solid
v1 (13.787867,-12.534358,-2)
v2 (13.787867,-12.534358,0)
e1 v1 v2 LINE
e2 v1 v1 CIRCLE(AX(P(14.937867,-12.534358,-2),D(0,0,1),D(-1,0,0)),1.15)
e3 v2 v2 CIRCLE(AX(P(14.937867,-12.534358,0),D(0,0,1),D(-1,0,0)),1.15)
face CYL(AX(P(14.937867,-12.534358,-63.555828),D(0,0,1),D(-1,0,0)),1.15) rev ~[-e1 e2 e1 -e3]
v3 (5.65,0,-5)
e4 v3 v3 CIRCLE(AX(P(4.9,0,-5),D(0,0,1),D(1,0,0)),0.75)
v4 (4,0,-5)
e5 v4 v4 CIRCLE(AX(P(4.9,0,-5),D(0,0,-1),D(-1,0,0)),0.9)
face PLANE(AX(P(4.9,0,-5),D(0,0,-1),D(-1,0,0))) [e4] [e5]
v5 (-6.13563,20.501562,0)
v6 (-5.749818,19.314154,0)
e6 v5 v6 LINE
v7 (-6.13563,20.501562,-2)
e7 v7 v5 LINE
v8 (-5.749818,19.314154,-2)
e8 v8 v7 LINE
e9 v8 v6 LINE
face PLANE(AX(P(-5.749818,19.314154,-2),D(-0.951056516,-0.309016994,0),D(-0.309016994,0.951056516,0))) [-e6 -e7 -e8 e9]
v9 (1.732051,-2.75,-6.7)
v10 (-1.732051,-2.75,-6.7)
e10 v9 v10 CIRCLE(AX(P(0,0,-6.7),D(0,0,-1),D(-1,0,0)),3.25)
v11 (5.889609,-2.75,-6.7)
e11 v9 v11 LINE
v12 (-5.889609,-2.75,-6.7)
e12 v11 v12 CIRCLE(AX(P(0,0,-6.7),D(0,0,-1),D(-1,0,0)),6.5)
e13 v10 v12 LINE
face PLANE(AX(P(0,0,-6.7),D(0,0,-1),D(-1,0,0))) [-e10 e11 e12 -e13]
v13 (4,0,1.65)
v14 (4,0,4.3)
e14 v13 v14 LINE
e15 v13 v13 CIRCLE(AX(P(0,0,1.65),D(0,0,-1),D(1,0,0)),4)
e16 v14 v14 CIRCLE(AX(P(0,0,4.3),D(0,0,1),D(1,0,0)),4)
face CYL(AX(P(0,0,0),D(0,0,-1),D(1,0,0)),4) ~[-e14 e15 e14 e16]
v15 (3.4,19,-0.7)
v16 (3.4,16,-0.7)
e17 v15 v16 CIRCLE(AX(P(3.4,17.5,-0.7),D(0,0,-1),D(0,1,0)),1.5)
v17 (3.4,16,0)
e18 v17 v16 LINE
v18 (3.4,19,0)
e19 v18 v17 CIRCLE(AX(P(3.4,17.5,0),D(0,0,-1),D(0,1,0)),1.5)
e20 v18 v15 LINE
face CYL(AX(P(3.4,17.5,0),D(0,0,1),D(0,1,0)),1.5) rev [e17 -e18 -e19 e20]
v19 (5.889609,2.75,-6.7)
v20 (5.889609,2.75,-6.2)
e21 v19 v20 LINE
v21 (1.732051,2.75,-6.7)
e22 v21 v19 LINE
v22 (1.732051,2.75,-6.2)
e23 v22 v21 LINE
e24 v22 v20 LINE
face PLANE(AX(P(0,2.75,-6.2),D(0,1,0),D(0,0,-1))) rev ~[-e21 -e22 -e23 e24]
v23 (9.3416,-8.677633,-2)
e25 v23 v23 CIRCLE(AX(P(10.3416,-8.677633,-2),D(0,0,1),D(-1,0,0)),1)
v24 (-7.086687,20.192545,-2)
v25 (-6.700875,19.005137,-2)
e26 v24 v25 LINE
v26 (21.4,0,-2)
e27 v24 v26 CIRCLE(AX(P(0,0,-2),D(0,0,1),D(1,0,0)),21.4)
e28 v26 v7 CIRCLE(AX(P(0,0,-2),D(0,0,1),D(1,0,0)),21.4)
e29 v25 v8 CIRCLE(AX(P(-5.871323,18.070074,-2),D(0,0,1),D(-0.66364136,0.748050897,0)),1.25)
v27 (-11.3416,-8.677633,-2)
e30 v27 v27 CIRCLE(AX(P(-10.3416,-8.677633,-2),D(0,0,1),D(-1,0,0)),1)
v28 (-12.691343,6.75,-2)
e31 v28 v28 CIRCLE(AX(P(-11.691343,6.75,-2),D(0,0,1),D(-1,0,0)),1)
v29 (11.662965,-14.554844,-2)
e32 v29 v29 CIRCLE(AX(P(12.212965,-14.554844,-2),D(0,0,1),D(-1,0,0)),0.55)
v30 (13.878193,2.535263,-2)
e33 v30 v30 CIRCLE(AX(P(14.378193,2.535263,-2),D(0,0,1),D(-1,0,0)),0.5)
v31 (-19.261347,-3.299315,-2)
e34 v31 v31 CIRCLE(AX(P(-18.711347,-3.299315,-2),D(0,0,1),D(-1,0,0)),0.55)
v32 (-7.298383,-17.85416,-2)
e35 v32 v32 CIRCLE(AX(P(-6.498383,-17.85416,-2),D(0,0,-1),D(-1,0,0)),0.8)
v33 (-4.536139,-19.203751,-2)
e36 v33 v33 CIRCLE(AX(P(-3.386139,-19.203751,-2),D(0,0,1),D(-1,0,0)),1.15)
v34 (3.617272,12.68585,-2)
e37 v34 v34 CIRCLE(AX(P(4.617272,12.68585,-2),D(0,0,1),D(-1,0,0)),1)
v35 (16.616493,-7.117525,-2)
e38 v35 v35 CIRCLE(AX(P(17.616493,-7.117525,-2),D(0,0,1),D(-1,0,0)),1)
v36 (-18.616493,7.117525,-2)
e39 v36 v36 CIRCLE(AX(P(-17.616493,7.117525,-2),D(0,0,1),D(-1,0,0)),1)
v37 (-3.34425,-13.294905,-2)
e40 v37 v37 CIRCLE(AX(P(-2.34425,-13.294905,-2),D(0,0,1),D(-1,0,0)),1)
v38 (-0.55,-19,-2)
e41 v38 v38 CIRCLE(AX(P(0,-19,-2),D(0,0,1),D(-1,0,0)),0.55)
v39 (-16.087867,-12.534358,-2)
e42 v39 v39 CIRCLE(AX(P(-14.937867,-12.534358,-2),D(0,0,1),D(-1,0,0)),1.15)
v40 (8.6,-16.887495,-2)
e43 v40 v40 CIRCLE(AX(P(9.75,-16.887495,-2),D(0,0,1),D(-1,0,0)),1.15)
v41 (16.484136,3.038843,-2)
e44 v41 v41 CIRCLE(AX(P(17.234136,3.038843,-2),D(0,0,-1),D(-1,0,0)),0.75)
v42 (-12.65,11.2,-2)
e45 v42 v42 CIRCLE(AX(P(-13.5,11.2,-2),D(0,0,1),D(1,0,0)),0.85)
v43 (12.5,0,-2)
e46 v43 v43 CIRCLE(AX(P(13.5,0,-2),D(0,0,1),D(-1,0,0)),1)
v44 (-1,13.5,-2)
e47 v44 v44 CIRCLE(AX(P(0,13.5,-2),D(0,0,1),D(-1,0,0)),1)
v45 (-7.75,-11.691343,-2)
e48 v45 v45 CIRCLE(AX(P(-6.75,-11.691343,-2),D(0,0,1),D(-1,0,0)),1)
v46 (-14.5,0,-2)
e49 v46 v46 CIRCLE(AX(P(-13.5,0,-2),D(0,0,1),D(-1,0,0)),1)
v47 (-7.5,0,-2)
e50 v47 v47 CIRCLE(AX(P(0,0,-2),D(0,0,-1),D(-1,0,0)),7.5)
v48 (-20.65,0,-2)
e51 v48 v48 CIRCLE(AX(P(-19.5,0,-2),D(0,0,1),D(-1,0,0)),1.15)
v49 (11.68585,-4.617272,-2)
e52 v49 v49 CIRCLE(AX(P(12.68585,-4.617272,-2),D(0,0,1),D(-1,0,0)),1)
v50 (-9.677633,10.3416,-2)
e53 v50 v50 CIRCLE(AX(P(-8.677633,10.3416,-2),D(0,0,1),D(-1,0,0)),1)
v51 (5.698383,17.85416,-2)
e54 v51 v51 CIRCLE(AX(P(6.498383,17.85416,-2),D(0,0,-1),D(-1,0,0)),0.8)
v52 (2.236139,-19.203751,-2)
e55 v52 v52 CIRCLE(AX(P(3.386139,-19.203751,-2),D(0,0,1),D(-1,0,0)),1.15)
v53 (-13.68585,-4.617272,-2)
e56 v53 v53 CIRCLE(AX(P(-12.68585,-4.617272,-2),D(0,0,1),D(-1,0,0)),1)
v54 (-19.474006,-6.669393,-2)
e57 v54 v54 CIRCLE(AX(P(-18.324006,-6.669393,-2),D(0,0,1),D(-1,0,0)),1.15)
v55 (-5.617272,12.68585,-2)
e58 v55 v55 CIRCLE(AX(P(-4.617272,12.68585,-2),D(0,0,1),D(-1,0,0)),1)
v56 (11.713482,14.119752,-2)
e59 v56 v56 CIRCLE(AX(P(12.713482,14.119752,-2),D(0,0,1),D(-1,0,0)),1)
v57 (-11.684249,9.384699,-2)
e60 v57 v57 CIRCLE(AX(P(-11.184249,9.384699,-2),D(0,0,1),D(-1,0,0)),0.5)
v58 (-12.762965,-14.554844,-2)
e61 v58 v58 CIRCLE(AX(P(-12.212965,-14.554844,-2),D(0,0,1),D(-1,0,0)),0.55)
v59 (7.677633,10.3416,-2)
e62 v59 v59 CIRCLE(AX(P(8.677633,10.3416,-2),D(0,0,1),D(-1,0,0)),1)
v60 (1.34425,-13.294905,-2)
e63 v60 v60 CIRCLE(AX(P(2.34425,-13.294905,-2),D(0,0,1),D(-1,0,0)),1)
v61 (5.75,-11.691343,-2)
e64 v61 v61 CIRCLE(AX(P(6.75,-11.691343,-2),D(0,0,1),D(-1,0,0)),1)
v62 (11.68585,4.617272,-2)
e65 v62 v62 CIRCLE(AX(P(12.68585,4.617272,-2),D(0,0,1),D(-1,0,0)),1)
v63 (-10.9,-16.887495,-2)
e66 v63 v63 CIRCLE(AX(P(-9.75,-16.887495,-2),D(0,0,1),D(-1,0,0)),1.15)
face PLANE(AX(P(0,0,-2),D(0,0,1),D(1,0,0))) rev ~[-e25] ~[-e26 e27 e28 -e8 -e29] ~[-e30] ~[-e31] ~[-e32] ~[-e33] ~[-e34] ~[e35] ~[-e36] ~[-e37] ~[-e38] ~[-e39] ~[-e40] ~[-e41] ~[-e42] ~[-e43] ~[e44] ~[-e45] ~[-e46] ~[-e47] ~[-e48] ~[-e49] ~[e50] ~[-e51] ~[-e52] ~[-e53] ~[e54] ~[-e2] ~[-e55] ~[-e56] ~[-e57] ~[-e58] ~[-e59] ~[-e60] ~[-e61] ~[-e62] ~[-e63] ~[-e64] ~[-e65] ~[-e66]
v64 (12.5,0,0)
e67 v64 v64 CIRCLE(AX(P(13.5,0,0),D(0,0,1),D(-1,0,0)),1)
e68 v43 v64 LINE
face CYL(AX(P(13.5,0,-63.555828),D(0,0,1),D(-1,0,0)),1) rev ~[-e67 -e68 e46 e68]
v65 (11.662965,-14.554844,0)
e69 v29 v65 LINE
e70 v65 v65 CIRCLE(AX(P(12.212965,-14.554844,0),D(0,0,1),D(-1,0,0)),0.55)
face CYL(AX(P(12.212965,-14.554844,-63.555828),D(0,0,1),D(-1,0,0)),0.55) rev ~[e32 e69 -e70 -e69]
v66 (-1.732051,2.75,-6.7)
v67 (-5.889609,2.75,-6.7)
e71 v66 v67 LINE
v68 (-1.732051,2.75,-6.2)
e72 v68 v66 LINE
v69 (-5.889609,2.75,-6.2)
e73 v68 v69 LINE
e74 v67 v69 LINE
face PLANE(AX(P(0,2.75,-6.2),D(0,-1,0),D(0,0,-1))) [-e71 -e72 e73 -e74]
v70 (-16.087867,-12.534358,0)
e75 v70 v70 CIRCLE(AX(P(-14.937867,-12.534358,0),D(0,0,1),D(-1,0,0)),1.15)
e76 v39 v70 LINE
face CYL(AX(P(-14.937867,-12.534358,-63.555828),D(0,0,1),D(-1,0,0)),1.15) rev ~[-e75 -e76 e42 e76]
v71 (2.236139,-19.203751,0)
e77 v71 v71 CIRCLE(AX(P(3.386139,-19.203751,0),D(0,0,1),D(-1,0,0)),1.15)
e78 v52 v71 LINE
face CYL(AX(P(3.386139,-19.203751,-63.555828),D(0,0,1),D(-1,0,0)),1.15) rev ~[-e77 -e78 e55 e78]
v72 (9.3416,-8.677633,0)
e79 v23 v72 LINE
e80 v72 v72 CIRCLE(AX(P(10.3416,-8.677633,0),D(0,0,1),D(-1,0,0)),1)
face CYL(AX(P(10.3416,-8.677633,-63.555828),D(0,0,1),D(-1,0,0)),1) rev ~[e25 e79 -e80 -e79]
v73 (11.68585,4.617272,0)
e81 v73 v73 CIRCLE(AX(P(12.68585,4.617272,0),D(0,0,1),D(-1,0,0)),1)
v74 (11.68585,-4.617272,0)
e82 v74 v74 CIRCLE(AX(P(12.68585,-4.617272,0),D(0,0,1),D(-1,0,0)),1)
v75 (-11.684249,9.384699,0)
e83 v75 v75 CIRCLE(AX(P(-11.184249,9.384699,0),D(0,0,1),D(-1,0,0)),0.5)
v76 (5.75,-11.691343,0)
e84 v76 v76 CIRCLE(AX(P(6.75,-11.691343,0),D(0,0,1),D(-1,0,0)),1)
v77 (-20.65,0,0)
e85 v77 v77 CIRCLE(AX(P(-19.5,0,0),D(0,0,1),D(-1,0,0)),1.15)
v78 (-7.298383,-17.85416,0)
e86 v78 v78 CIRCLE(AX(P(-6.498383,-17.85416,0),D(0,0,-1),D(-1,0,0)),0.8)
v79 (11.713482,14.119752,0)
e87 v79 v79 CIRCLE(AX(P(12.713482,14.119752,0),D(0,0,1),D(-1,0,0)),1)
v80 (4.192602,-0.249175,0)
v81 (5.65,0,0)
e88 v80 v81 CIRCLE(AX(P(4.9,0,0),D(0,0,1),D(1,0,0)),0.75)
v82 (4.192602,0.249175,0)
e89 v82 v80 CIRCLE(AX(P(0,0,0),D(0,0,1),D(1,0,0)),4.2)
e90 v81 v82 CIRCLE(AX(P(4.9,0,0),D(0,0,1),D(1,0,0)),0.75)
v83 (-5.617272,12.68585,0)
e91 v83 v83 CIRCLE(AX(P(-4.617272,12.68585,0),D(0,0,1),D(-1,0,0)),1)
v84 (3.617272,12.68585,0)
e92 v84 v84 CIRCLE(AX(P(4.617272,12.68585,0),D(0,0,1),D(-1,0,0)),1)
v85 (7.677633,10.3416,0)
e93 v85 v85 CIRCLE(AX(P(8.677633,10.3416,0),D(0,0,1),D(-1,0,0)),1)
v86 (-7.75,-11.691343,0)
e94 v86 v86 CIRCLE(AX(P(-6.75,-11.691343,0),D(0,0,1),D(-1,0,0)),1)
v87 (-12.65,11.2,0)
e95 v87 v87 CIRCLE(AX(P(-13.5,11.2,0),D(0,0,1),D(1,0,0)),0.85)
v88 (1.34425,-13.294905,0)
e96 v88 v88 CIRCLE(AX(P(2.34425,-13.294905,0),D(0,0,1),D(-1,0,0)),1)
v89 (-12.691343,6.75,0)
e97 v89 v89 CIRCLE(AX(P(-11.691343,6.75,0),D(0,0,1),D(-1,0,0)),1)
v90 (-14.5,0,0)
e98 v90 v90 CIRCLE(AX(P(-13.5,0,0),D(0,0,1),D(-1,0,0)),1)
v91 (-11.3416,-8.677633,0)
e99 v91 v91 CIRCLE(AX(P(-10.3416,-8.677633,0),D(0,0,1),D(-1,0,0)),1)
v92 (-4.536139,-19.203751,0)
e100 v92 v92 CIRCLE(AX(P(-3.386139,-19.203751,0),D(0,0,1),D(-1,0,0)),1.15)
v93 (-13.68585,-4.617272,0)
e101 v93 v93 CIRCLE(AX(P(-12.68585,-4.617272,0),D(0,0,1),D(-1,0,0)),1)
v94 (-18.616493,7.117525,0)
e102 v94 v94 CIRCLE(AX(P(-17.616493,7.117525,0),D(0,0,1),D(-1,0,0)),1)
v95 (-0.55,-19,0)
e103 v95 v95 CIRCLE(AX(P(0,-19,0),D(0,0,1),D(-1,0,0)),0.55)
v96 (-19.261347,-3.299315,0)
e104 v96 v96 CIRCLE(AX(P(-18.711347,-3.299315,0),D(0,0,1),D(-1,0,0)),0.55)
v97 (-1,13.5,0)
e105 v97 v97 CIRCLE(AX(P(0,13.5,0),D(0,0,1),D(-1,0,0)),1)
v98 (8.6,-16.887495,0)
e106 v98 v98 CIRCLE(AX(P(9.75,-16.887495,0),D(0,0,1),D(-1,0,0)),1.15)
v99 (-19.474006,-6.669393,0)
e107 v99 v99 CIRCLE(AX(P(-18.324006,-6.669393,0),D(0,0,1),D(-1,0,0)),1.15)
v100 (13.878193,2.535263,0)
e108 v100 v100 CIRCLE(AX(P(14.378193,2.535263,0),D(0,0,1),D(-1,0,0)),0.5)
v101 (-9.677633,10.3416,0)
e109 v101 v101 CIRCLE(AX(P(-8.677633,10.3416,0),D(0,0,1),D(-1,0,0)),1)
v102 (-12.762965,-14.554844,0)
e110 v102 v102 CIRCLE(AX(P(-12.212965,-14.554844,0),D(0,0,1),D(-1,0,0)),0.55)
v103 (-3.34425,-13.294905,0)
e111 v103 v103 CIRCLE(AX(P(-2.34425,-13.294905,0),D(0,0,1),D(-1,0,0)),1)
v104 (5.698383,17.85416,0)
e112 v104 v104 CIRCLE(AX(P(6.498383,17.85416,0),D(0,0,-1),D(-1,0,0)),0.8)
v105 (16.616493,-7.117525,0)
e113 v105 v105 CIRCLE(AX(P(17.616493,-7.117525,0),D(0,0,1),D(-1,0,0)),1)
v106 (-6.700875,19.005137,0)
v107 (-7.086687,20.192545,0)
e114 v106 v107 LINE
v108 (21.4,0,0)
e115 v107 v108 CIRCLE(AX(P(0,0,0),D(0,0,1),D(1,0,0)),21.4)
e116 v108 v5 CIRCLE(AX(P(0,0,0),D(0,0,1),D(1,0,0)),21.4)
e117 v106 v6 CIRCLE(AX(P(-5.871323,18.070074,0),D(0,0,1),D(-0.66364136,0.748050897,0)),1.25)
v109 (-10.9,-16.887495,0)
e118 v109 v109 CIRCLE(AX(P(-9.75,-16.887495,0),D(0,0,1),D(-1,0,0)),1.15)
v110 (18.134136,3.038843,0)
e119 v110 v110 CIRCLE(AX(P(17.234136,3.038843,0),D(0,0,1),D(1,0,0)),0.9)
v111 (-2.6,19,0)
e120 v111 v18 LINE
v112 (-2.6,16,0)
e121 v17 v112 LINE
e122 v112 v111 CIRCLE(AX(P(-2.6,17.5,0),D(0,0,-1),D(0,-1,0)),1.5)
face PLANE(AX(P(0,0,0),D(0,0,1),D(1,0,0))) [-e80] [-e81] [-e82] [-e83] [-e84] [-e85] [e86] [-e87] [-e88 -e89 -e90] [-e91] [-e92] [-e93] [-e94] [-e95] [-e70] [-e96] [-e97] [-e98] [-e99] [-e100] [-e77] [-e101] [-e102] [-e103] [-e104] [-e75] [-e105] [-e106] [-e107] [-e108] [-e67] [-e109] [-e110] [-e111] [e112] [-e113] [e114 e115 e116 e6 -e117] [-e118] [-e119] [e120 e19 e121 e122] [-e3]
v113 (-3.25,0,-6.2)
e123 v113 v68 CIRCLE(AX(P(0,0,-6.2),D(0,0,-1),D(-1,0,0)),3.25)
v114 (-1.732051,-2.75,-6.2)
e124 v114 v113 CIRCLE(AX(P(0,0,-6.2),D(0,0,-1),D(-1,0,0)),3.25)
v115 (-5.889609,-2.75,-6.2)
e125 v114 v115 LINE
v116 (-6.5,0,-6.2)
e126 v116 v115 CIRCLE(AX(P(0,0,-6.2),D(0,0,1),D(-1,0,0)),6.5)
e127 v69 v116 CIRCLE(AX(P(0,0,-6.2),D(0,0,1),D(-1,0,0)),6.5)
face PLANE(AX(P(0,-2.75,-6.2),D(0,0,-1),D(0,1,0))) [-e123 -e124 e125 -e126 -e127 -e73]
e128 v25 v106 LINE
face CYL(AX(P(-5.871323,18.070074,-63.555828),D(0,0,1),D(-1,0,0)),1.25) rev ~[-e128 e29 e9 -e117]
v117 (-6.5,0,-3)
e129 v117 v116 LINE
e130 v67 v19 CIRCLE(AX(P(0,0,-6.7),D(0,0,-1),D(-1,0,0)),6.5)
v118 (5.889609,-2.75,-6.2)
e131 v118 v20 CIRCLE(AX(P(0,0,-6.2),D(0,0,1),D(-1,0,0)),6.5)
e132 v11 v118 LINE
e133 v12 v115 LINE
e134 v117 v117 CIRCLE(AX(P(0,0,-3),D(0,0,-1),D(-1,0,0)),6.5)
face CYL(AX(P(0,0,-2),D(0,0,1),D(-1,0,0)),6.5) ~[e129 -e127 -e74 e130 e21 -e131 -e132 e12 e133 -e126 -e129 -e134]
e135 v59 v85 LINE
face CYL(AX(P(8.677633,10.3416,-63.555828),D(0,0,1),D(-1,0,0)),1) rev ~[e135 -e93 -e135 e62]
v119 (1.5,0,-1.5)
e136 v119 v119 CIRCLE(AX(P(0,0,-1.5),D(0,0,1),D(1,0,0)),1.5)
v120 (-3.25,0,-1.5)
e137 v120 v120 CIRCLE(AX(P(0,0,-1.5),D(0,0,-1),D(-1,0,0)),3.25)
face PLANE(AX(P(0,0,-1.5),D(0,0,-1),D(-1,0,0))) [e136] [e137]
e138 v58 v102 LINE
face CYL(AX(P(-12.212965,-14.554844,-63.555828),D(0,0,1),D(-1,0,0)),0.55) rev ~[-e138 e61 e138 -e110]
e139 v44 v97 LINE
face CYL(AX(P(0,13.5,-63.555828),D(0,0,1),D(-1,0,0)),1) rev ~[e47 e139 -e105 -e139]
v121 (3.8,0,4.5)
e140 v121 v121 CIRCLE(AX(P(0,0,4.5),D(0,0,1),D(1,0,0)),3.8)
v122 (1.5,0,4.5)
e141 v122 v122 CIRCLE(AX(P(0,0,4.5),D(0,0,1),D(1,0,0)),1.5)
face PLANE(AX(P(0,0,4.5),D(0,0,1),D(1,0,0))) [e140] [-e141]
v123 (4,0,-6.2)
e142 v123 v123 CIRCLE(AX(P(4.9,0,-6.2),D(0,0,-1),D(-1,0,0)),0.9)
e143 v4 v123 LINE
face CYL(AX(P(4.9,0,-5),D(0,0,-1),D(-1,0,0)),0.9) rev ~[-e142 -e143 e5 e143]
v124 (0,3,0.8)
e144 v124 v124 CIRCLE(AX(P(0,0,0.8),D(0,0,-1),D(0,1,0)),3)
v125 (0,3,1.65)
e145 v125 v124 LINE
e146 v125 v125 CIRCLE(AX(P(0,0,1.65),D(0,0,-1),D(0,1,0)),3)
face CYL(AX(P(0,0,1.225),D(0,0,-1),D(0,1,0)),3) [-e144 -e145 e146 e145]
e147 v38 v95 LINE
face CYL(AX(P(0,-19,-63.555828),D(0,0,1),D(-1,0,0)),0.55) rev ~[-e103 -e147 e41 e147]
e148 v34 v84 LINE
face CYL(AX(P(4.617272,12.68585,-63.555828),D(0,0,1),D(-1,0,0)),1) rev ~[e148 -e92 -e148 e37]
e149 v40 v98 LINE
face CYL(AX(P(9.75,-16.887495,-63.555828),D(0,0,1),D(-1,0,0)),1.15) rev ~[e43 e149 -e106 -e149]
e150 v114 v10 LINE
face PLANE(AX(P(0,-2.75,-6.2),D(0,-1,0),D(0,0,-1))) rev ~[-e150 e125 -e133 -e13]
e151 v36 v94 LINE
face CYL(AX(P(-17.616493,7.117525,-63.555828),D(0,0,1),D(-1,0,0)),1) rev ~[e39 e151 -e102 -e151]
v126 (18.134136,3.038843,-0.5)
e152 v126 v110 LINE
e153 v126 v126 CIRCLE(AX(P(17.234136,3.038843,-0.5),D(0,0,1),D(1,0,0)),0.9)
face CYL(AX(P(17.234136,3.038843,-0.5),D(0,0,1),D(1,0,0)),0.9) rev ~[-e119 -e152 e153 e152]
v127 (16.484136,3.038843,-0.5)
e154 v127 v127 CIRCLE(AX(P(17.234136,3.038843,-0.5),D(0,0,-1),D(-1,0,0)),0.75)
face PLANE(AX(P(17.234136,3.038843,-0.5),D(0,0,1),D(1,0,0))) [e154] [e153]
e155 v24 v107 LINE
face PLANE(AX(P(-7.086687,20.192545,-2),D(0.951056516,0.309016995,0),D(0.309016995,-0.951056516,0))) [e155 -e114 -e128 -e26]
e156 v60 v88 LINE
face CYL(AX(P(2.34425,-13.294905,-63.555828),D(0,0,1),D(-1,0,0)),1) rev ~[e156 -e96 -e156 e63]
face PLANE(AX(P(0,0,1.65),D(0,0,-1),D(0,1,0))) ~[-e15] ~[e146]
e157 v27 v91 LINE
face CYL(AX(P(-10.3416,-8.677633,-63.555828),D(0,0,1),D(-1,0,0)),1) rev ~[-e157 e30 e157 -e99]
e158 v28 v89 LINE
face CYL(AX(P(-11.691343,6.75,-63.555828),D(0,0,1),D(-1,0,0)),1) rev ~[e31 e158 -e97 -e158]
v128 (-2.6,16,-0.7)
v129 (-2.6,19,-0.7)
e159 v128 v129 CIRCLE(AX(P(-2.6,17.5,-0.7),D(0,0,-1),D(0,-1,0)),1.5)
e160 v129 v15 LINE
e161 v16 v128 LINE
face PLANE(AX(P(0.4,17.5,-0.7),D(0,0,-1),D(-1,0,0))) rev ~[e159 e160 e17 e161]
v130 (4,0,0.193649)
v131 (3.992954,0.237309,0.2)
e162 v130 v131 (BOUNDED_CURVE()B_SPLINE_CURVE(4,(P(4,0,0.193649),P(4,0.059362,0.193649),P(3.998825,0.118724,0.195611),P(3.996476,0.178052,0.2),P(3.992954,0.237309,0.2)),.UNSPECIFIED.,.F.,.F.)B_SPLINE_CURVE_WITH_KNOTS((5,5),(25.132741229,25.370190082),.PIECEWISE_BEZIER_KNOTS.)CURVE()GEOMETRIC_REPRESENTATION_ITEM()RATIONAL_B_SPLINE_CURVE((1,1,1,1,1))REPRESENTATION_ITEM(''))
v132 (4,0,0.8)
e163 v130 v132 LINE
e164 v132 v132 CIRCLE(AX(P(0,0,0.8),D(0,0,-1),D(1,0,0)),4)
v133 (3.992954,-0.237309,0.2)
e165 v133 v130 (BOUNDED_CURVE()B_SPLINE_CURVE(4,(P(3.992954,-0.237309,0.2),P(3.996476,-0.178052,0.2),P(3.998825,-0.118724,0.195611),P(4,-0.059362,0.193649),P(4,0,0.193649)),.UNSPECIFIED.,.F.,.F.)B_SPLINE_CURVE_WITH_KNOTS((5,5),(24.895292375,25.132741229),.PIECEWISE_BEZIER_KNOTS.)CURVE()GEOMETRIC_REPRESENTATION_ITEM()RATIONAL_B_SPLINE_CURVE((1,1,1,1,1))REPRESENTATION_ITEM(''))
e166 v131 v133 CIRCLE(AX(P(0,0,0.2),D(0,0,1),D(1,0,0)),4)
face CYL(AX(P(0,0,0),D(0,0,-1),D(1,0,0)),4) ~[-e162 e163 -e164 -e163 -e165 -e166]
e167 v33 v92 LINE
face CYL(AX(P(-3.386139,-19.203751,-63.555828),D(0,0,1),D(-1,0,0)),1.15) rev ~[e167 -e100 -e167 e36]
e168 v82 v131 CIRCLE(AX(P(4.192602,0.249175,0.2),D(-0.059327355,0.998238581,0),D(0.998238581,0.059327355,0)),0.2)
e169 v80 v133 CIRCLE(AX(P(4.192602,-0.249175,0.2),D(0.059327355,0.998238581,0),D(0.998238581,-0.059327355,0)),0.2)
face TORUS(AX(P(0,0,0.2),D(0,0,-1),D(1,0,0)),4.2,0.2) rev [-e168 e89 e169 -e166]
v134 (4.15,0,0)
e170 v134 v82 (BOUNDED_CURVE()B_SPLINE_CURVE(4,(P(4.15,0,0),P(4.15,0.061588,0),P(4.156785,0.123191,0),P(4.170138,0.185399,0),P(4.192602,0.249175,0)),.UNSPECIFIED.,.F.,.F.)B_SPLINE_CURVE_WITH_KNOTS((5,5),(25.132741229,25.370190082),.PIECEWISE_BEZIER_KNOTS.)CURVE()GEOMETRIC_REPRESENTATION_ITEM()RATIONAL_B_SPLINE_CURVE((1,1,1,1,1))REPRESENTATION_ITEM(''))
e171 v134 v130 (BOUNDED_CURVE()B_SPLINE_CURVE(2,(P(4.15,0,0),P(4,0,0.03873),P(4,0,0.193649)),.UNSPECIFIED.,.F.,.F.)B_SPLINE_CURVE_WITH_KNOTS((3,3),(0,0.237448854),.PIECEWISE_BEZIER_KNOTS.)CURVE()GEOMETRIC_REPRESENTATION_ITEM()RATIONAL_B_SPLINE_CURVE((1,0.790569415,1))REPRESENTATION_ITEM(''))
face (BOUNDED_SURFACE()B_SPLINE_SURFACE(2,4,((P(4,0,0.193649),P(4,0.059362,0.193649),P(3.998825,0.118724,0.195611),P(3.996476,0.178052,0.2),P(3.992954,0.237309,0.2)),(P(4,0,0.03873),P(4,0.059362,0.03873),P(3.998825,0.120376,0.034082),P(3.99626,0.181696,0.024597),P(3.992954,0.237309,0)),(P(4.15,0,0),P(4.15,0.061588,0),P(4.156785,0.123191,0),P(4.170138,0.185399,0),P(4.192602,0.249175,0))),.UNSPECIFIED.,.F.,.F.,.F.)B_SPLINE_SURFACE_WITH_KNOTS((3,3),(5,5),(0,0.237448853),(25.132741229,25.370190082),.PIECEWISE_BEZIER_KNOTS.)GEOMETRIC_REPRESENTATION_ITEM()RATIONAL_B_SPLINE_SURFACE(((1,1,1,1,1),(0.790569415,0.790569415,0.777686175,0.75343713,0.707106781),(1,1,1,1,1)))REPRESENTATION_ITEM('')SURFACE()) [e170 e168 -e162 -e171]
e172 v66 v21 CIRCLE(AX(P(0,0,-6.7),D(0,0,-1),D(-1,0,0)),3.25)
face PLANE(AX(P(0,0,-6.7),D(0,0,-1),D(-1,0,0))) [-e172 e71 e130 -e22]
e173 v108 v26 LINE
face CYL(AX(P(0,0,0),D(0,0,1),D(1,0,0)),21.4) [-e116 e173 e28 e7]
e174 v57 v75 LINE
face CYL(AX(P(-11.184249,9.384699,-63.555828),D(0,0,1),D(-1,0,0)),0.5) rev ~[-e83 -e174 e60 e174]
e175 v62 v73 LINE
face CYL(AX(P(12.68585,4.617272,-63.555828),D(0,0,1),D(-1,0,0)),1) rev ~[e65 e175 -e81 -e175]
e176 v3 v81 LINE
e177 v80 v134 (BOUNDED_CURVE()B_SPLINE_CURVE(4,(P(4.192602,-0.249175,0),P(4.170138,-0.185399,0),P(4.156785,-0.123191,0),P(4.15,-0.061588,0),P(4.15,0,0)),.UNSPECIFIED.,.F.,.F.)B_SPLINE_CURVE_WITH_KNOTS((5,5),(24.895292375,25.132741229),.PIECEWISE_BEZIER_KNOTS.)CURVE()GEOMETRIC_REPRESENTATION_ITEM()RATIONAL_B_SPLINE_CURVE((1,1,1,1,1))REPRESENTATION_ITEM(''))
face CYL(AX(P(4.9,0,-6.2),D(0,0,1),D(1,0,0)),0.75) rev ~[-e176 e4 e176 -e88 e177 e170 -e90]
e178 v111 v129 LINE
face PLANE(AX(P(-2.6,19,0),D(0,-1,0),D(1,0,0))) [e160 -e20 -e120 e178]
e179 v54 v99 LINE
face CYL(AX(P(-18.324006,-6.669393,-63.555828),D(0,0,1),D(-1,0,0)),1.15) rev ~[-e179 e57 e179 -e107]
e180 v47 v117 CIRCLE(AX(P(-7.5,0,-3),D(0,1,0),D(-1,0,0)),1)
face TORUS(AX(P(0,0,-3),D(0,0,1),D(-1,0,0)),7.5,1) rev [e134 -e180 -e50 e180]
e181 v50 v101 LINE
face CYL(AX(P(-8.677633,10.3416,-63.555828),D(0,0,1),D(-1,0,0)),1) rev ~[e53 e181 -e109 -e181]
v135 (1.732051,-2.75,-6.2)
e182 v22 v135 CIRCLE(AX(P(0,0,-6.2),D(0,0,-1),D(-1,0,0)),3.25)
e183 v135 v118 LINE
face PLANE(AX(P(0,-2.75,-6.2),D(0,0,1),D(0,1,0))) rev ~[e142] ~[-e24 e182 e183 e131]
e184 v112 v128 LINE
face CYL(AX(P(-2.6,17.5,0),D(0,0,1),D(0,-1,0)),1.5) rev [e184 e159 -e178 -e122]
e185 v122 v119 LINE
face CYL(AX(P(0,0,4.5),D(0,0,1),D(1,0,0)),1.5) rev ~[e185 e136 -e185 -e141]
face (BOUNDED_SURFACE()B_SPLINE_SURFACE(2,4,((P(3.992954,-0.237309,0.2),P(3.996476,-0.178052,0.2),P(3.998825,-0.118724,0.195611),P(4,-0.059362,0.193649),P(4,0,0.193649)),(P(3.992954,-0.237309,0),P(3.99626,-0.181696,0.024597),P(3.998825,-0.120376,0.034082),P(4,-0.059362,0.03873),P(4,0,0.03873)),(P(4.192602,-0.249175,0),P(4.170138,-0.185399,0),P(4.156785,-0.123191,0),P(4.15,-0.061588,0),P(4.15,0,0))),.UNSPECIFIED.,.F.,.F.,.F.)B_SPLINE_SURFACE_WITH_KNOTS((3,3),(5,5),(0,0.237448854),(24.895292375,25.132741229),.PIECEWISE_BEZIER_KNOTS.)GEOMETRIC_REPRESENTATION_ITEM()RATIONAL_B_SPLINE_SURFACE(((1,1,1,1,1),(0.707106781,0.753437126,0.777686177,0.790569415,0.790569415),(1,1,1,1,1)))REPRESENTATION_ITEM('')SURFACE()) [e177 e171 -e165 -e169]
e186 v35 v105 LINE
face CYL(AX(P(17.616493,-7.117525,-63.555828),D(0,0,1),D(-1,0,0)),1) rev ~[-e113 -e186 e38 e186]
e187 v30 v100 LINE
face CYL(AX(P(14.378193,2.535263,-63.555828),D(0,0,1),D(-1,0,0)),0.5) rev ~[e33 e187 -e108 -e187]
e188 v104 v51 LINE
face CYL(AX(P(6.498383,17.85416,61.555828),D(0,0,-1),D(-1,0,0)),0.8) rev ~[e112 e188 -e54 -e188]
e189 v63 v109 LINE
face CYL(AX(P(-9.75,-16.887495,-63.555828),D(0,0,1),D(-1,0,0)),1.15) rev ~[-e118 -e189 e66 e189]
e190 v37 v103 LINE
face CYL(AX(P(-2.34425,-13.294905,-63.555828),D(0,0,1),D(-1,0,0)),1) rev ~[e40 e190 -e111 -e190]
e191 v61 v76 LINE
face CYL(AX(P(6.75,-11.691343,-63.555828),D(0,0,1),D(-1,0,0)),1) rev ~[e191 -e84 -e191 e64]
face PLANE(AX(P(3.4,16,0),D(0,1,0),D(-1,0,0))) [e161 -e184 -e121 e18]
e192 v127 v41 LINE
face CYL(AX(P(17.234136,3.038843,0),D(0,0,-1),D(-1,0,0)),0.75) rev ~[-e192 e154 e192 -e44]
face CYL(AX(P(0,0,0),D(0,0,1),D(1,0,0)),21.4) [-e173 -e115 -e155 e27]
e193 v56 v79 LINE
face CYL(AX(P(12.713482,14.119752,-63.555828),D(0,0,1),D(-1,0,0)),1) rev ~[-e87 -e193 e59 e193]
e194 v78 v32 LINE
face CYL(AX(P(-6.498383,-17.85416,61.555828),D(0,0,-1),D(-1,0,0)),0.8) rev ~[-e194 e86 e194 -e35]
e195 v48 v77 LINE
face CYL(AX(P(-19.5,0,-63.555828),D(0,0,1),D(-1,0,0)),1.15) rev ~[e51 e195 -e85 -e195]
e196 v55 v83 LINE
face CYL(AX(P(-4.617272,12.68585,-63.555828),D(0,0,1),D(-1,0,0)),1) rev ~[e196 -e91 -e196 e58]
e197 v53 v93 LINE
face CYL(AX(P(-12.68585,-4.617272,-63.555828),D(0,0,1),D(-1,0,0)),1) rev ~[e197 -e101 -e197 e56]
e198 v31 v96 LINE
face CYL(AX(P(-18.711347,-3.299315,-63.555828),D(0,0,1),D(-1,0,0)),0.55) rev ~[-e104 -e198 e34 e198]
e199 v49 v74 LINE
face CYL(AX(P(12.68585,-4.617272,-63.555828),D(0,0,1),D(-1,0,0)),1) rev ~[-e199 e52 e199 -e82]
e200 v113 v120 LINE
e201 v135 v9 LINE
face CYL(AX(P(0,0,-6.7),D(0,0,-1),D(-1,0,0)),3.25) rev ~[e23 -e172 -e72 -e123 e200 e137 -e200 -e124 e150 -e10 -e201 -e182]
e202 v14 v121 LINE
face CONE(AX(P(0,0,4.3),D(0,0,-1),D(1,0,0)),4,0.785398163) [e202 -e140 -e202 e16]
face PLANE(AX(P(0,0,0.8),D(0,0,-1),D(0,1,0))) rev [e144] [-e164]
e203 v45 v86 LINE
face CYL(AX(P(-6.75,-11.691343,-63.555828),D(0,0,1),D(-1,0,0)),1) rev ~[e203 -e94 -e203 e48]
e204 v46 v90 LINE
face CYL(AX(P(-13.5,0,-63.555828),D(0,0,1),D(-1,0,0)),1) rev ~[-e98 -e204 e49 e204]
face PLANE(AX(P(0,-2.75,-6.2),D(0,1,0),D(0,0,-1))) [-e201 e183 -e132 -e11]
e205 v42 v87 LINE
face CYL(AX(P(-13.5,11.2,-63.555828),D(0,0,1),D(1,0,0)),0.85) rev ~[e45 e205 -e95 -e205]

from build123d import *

# Parameters (mm, degrees)
SKETCH1_R                                            = 21.4
BOSS_EXTRUDE1_DEPTH                                  = 2
SKETCH2_R                                            = 6.5
BOSS_EXTRUDE2_DEPTH                                  = 4.7
SKETCH3_R                                            = 4
BOSS_EXTRUDE3_DEPTH                                  = 4.5
SKETCH5_R                                            = 3.25
CUT_EXTRUDE2_DEPTH                                   = 5.2
CUT_EXTRUDE1_REACH                                   = 13.2
SKETCH4_R                                            = 1.5
SKETCH6_W                                            = 0.85
SKETCH6_H                                            = 1
SKETCH7_W                                            = 0.5
SKETCH7_H                                            = 5.5
CUT_EXTRUDE3_DEPTH                                   = 22.4
CUT_EXTRUDE3_DEPTH_BACK                              = 22.4
CUT_EXTRUDE4_DEPTH                                   = 0.7
F_2_0_2_DIAMETER_HOLE6_D                             = 2
FILLET2_R                                            = 1
F_2_3_2_3_DIAMETER_HOLE1_D                           = 2.3
F_2_0_2_DIAMETER_HOLE8_D                             = 2
F_2_5_2_5_DIAMETER_HOLE1_D                           = 2.5
F_1_0_1_DIAMETER_HOLE1_D                             = 1
F_1_7_1_7_DIAMETER_HOLE2_D                           = 1.7
M1_4X0_3_TAPPED_HOLE1_D                              = 1.1
M2_TAPPED_HOLE1_D                                    = 1.6
CBORE_FOR_M1_7_HEX_SOCKET_HEAD_CAP_SCREW_D           = 1.5
CBORE_FOR_M1_7_HEX_SOCKET_HEAD_CAP_SCREW_CBORE_D     = 1.8
CBORE_FOR_M1_7_HEX_SOCKET_HEAD_CAP_SCREW_CBORE_DEPTH = 0.5
CBORE_FOR_M1_7_HEX_SOCKET_HEAD_CAP_S_2_D             = 1.5
CBORE_FOR_M1_7_HEX_SOCKET_HEAD_CAP_S_2_CBORE_D       = 1.8
CBORE_FOR_M1_7_HEX_SOCKET_HEAD_CAP_S_2_CBORE_DEPTH   = 1.2
CUT_EXTRUDE5_DEPTH                                   = 7.5
FILLET3_R                                            = 0.2
CHAMFER1_SIZE                                        = 0.2


with BuildPart() as part:
    # Sketch1 → Boss-Extrude1 (new body)
    with BuildSketch(Plane.XY):
        Circle(SKETCH1_R)
    extrude(amount=-BOSS_EXTRUDE1_DEPTH)

    # Sketch2 → Boss-Extrude2 (add)
    with BuildSketch(Plane(origin=(0, 0, -2), x_dir=(-1, 0, 0), z_dir=(0, 0, -1))):
        Circle(SKETCH2_R)
    extrude(amount=BOSS_EXTRUDE2_DEPTH)

    # Sketch3 → Boss-Extrude3 (add)
    with BuildSketch(Plane.XY):
        Circle(SKETCH3_R)
    extrude(amount=BOSS_EXTRUDE3_DEPTH)

    # Sketch5 → Cut-Extrude2 (cut)
    with BuildSketch(Plane(origin=(0, 0, -6.7), x_dir=(-1, 0, 0), z_dir=(0, 0, -1))):
        Circle(SKETCH5_R)
    extrude(amount=-CUT_EXTRUDE2_DEPTH, mode=Mode.SUBTRACT)

    # Sketch4 → Cut-Extrude1 (cut, up to next)
    with BuildSketch(Plane.XY.offset(4.5), mode=Mode.PRIVATE) as cut_extrude1_sk1:
        Circle(SKETCH4_R)
    cut_extrude1_tool1 = extrude(cut_extrude1_sk1.sketch, amount=-CUT_EXTRUDE1_REACH, mode=Mode.PRIVATE) & part.part
    add(cut_extrude1_tool1.solids().sort_by_distance((0, 0, 4.5))[0], mode=Mode.SUBTRACT)

    # Sketch6 → Cut-Revolve1 (revolve, cut)
    with BuildSketch(Plane(origin=(0, 0, 0), x_dir=(0, 0, -1), z_dir=(1, 0, 0))):
        with Locations((-1.225, 3.5)):
            Rectangle(SKETCH6_W, SKETCH6_H)
    revolve(axis=Axis((0, 0, 4.5), (0, 0, -1)), mode=Mode.SUBTRACT)

    # Sketch7 → Cut-Extrude3 (cut, two sides)
    with BuildSketch(Plane(origin=(0, 0, 0), x_dir=(0, 0, -1), z_dir=(1, 0, 0))) as cut_extrude3_sk:
        with Locations((6.45, 0)):
            Rectangle(SKETCH7_W, SKETCH7_H)
    extrude(amount=CUT_EXTRUDE3_DEPTH, mode=Mode.SUBTRACT)
    extrude(cut_extrude3_sk.sketch, amount=-CUT_EXTRUDE3_DEPTH_BACK, mode=Mode.SUBTRACT)

    # Sketch8 → Cut-Extrude4 (cut)
    with BuildSketch(Plane.XY):
        with BuildLine():
            Line((-2.6, 19), (3.4, 19))
            ThreePointArc((3.4, 19), (4.9, 17.5), (3.4, 16))
            Line((3.4, 16), (-2.6, 16))
            ThreePointArc((-2.6, 16), (-4.1, 17.5), (-2.6, 19))
        make_face()
    extrude(amount=-CUT_EXTRUDE4_DEPTH, mode=Mode.SUBTRACT)

    # Ø2.0 (2) Diameter Hole6 (through all)
    with Locations(Plane(origin=(0, 0, -2), x_dir=(1, 0, 0), z_dir=(0, 0, -1))):
        with Locations((-11.691342951, -6.75), (-8.677632731, -10.341599982), (-4.617271935, -12.685850381), (4.617271935, -12.685850381), (0, -13.5), (8.677632731, -10.341599982), (-12.685850381, 4.617271935), (-10.341599982, 8.677632731), (-6.75, 11.691342951), (2.344250399, 13.294904666), (6.75, 11.691342951), (10.341599982, 8.677632731), (12.685850381, 4.617271935), (13.5, 0), (12.685850381, -4.617271935), (-13.5, 0), (-2.344250399, 13.294904666)):
            Hole(F_2_0_2_DIAMETER_HOLE6_D / 2)

    # Fillet2
    fillet2_edges = [part.edges().sort_by_distance(p)[0] for p in [
        (6.5, 0, -2),
    ]]
    fillet(fillet2_edges, radius=FILLET2_R)

    # Ø2.3 (2.3) Diameter Hole1 (through all)
    with Locations(Plane(origin=(0, 0, -2), x_dir=(1, 0, 0), z_dir=(0, 0, -1))):
        with Locations((-19.5, 0), (-18.324006105, 6.669392795), (-14.937866641, 12.534358389), (-9.75, 16.887495374), (-3.386139465, 19.203751184), (3.386139465, 19.203751184), (9.75, 16.887495374), (14.937866641, 12.534358389)):
            Hole(F_2_3_2_3_DIAMETER_HOLE1_D / 2)

    # Ø2.0 (2) Diameter Hole8 (through all)
    with Locations(Plane(origin=(0, 0, -2), x_dir=(1, 0, 0), z_dir=(0, 0, -1))):
        with Locations((-17.616493237, -7.117525275), (12.713481521, -14.119751684), (17.616493237, 7.117525275)):
            Hole(F_2_0_2_DIAMETER_HOLE8_D / 2)

    # Ø2.5 (2.5) Diameter Hole1 (through all)
    with Locations(Plane(origin=(0, 0, -2), x_dir=(1, 0, 0), z_dir=(0, 0, -1))):
        with Locations((-5.871322893, -18.07007381)):
            Hole(F_2_5_2_5_DIAMETER_HOLE1_D / 2)

    # Ø1.0 (1) Diameter Hole1 (through all)
    with Locations(Plane(origin=(0, 0, -2), x_dir=(1, 0, 0), z_dir=(0, 0, -1))):
        with Locations((14.378193194, -2.535263394), (-11.18424887, -9.384699101)):
            Hole(F_1_0_1_DIAMETER_HOLE1_D / 2)

    # Ø1.7 (1.7) Diameter Hole2 (through all)
    with Locations(Plane(origin=(0, 0, -2), x_dir=(-1, 0, 0), z_dir=(0, 0, -1))):
        with Locations((13.5, 11.2)):
            Hole(F_1_7_1_7_DIAMETER_HOLE2_D / 2)

    # M1.4x0.3 Tapped Hole1 (through all)
    with Locations(Plane(origin=(0, 0, -2), x_dir=(1, 0, 0), z_dir=(0, 0, -1))):
        with Locations((-18.711347307, 3.299315376), (12.212964584, 14.554844419), (-12.212964584, 14.554844419), (0, 19)):
            Hole(M1_4X0_3_TAPPED_HOLE1_D / 2)

    # M2 Tapped Hole1 (through all)
    with Locations(Plane.XY):
        with Locations((6.498382723, 17.854159795), (-6.498382723, -17.854159795)):
            Hole(M2_TAPPED_HOLE1_D / 2)

    # CBORE for M1.7 Hex Socket Head Cap Screw (through all)
    with Locations(Plane.XY):
        with Locations((17.234135678, 3.038843109)):
            CounterBoreHole(CBORE_FOR_M1_7_HEX_SOCKET_HEAD_CAP_SCREW_D / 2, CBORE_FOR_M1_7_HEX_SOCKET_HEAD_CAP_SCREW_CBORE_D / 2, CBORE_FOR_M1_7_HEX_SOCKET_HEAD_CAP_SCREW_CBORE_DEPTH)

    # CBORE for M1.7 Hex Socket Head Cap S 2 (through all)
    with Locations(Plane(origin=(0, 0, -6.2), x_dir=(-1, 0, 0), z_dir=(0, 0, -1))):
        with Locations((-4.9, 0)):
            CounterBoreHole(CBORE_FOR_M1_7_HEX_SOCKET_HEAD_CAP_S_2_D / 2, CBORE_FOR_M1_7_HEX_SOCKET_HEAD_CAP_S_2_CBORE_D / 2, CBORE_FOR_M1_7_HEX_SOCKET_HEAD_CAP_S_2_CBORE_DEPTH)

    # Sketch41 → Cut-Extrude5 (cut, through all)
    with BuildSketch(Plane.XY.offset(-2)):
        with BuildLine():
            Line((-5.749818077, 19.314154426), (-6.135630169, 20.501561951))
            ThreePointArc((-6.135630169, 20.501561951), (-6.61296368, 20.352609449), (-7.086686686, 20.192544957))
            Line((-7.086686686, 20.192544957), (-6.700874593, 19.005137431))
            ThreePointArc((-6.700874593, 19.005137431), (-6.257594136, 19.258894455), (-5.749818077, 19.314154426))
        make_face()
    extrude(amount=CUT_EXTRUDE5_DEPTH, mode=Mode.SUBTRACT)

    # Fillet3
    fillet3_edges = [part.edges().sort_by_distance(p)[0] for p in [
        (-4, 0, 0),
    ]]
    fillet(fillet3_edges, radius=FILLET3_R)

    # Chamfer1
    chamfer1_edges = [part.edges().sort_by_distance(p)[0] for p in [
        (-4, 0, 4.5),
    ]]
    chamfer(chamfer1_edges, length=CHAMFER1_SIZE)


solid = part.part
